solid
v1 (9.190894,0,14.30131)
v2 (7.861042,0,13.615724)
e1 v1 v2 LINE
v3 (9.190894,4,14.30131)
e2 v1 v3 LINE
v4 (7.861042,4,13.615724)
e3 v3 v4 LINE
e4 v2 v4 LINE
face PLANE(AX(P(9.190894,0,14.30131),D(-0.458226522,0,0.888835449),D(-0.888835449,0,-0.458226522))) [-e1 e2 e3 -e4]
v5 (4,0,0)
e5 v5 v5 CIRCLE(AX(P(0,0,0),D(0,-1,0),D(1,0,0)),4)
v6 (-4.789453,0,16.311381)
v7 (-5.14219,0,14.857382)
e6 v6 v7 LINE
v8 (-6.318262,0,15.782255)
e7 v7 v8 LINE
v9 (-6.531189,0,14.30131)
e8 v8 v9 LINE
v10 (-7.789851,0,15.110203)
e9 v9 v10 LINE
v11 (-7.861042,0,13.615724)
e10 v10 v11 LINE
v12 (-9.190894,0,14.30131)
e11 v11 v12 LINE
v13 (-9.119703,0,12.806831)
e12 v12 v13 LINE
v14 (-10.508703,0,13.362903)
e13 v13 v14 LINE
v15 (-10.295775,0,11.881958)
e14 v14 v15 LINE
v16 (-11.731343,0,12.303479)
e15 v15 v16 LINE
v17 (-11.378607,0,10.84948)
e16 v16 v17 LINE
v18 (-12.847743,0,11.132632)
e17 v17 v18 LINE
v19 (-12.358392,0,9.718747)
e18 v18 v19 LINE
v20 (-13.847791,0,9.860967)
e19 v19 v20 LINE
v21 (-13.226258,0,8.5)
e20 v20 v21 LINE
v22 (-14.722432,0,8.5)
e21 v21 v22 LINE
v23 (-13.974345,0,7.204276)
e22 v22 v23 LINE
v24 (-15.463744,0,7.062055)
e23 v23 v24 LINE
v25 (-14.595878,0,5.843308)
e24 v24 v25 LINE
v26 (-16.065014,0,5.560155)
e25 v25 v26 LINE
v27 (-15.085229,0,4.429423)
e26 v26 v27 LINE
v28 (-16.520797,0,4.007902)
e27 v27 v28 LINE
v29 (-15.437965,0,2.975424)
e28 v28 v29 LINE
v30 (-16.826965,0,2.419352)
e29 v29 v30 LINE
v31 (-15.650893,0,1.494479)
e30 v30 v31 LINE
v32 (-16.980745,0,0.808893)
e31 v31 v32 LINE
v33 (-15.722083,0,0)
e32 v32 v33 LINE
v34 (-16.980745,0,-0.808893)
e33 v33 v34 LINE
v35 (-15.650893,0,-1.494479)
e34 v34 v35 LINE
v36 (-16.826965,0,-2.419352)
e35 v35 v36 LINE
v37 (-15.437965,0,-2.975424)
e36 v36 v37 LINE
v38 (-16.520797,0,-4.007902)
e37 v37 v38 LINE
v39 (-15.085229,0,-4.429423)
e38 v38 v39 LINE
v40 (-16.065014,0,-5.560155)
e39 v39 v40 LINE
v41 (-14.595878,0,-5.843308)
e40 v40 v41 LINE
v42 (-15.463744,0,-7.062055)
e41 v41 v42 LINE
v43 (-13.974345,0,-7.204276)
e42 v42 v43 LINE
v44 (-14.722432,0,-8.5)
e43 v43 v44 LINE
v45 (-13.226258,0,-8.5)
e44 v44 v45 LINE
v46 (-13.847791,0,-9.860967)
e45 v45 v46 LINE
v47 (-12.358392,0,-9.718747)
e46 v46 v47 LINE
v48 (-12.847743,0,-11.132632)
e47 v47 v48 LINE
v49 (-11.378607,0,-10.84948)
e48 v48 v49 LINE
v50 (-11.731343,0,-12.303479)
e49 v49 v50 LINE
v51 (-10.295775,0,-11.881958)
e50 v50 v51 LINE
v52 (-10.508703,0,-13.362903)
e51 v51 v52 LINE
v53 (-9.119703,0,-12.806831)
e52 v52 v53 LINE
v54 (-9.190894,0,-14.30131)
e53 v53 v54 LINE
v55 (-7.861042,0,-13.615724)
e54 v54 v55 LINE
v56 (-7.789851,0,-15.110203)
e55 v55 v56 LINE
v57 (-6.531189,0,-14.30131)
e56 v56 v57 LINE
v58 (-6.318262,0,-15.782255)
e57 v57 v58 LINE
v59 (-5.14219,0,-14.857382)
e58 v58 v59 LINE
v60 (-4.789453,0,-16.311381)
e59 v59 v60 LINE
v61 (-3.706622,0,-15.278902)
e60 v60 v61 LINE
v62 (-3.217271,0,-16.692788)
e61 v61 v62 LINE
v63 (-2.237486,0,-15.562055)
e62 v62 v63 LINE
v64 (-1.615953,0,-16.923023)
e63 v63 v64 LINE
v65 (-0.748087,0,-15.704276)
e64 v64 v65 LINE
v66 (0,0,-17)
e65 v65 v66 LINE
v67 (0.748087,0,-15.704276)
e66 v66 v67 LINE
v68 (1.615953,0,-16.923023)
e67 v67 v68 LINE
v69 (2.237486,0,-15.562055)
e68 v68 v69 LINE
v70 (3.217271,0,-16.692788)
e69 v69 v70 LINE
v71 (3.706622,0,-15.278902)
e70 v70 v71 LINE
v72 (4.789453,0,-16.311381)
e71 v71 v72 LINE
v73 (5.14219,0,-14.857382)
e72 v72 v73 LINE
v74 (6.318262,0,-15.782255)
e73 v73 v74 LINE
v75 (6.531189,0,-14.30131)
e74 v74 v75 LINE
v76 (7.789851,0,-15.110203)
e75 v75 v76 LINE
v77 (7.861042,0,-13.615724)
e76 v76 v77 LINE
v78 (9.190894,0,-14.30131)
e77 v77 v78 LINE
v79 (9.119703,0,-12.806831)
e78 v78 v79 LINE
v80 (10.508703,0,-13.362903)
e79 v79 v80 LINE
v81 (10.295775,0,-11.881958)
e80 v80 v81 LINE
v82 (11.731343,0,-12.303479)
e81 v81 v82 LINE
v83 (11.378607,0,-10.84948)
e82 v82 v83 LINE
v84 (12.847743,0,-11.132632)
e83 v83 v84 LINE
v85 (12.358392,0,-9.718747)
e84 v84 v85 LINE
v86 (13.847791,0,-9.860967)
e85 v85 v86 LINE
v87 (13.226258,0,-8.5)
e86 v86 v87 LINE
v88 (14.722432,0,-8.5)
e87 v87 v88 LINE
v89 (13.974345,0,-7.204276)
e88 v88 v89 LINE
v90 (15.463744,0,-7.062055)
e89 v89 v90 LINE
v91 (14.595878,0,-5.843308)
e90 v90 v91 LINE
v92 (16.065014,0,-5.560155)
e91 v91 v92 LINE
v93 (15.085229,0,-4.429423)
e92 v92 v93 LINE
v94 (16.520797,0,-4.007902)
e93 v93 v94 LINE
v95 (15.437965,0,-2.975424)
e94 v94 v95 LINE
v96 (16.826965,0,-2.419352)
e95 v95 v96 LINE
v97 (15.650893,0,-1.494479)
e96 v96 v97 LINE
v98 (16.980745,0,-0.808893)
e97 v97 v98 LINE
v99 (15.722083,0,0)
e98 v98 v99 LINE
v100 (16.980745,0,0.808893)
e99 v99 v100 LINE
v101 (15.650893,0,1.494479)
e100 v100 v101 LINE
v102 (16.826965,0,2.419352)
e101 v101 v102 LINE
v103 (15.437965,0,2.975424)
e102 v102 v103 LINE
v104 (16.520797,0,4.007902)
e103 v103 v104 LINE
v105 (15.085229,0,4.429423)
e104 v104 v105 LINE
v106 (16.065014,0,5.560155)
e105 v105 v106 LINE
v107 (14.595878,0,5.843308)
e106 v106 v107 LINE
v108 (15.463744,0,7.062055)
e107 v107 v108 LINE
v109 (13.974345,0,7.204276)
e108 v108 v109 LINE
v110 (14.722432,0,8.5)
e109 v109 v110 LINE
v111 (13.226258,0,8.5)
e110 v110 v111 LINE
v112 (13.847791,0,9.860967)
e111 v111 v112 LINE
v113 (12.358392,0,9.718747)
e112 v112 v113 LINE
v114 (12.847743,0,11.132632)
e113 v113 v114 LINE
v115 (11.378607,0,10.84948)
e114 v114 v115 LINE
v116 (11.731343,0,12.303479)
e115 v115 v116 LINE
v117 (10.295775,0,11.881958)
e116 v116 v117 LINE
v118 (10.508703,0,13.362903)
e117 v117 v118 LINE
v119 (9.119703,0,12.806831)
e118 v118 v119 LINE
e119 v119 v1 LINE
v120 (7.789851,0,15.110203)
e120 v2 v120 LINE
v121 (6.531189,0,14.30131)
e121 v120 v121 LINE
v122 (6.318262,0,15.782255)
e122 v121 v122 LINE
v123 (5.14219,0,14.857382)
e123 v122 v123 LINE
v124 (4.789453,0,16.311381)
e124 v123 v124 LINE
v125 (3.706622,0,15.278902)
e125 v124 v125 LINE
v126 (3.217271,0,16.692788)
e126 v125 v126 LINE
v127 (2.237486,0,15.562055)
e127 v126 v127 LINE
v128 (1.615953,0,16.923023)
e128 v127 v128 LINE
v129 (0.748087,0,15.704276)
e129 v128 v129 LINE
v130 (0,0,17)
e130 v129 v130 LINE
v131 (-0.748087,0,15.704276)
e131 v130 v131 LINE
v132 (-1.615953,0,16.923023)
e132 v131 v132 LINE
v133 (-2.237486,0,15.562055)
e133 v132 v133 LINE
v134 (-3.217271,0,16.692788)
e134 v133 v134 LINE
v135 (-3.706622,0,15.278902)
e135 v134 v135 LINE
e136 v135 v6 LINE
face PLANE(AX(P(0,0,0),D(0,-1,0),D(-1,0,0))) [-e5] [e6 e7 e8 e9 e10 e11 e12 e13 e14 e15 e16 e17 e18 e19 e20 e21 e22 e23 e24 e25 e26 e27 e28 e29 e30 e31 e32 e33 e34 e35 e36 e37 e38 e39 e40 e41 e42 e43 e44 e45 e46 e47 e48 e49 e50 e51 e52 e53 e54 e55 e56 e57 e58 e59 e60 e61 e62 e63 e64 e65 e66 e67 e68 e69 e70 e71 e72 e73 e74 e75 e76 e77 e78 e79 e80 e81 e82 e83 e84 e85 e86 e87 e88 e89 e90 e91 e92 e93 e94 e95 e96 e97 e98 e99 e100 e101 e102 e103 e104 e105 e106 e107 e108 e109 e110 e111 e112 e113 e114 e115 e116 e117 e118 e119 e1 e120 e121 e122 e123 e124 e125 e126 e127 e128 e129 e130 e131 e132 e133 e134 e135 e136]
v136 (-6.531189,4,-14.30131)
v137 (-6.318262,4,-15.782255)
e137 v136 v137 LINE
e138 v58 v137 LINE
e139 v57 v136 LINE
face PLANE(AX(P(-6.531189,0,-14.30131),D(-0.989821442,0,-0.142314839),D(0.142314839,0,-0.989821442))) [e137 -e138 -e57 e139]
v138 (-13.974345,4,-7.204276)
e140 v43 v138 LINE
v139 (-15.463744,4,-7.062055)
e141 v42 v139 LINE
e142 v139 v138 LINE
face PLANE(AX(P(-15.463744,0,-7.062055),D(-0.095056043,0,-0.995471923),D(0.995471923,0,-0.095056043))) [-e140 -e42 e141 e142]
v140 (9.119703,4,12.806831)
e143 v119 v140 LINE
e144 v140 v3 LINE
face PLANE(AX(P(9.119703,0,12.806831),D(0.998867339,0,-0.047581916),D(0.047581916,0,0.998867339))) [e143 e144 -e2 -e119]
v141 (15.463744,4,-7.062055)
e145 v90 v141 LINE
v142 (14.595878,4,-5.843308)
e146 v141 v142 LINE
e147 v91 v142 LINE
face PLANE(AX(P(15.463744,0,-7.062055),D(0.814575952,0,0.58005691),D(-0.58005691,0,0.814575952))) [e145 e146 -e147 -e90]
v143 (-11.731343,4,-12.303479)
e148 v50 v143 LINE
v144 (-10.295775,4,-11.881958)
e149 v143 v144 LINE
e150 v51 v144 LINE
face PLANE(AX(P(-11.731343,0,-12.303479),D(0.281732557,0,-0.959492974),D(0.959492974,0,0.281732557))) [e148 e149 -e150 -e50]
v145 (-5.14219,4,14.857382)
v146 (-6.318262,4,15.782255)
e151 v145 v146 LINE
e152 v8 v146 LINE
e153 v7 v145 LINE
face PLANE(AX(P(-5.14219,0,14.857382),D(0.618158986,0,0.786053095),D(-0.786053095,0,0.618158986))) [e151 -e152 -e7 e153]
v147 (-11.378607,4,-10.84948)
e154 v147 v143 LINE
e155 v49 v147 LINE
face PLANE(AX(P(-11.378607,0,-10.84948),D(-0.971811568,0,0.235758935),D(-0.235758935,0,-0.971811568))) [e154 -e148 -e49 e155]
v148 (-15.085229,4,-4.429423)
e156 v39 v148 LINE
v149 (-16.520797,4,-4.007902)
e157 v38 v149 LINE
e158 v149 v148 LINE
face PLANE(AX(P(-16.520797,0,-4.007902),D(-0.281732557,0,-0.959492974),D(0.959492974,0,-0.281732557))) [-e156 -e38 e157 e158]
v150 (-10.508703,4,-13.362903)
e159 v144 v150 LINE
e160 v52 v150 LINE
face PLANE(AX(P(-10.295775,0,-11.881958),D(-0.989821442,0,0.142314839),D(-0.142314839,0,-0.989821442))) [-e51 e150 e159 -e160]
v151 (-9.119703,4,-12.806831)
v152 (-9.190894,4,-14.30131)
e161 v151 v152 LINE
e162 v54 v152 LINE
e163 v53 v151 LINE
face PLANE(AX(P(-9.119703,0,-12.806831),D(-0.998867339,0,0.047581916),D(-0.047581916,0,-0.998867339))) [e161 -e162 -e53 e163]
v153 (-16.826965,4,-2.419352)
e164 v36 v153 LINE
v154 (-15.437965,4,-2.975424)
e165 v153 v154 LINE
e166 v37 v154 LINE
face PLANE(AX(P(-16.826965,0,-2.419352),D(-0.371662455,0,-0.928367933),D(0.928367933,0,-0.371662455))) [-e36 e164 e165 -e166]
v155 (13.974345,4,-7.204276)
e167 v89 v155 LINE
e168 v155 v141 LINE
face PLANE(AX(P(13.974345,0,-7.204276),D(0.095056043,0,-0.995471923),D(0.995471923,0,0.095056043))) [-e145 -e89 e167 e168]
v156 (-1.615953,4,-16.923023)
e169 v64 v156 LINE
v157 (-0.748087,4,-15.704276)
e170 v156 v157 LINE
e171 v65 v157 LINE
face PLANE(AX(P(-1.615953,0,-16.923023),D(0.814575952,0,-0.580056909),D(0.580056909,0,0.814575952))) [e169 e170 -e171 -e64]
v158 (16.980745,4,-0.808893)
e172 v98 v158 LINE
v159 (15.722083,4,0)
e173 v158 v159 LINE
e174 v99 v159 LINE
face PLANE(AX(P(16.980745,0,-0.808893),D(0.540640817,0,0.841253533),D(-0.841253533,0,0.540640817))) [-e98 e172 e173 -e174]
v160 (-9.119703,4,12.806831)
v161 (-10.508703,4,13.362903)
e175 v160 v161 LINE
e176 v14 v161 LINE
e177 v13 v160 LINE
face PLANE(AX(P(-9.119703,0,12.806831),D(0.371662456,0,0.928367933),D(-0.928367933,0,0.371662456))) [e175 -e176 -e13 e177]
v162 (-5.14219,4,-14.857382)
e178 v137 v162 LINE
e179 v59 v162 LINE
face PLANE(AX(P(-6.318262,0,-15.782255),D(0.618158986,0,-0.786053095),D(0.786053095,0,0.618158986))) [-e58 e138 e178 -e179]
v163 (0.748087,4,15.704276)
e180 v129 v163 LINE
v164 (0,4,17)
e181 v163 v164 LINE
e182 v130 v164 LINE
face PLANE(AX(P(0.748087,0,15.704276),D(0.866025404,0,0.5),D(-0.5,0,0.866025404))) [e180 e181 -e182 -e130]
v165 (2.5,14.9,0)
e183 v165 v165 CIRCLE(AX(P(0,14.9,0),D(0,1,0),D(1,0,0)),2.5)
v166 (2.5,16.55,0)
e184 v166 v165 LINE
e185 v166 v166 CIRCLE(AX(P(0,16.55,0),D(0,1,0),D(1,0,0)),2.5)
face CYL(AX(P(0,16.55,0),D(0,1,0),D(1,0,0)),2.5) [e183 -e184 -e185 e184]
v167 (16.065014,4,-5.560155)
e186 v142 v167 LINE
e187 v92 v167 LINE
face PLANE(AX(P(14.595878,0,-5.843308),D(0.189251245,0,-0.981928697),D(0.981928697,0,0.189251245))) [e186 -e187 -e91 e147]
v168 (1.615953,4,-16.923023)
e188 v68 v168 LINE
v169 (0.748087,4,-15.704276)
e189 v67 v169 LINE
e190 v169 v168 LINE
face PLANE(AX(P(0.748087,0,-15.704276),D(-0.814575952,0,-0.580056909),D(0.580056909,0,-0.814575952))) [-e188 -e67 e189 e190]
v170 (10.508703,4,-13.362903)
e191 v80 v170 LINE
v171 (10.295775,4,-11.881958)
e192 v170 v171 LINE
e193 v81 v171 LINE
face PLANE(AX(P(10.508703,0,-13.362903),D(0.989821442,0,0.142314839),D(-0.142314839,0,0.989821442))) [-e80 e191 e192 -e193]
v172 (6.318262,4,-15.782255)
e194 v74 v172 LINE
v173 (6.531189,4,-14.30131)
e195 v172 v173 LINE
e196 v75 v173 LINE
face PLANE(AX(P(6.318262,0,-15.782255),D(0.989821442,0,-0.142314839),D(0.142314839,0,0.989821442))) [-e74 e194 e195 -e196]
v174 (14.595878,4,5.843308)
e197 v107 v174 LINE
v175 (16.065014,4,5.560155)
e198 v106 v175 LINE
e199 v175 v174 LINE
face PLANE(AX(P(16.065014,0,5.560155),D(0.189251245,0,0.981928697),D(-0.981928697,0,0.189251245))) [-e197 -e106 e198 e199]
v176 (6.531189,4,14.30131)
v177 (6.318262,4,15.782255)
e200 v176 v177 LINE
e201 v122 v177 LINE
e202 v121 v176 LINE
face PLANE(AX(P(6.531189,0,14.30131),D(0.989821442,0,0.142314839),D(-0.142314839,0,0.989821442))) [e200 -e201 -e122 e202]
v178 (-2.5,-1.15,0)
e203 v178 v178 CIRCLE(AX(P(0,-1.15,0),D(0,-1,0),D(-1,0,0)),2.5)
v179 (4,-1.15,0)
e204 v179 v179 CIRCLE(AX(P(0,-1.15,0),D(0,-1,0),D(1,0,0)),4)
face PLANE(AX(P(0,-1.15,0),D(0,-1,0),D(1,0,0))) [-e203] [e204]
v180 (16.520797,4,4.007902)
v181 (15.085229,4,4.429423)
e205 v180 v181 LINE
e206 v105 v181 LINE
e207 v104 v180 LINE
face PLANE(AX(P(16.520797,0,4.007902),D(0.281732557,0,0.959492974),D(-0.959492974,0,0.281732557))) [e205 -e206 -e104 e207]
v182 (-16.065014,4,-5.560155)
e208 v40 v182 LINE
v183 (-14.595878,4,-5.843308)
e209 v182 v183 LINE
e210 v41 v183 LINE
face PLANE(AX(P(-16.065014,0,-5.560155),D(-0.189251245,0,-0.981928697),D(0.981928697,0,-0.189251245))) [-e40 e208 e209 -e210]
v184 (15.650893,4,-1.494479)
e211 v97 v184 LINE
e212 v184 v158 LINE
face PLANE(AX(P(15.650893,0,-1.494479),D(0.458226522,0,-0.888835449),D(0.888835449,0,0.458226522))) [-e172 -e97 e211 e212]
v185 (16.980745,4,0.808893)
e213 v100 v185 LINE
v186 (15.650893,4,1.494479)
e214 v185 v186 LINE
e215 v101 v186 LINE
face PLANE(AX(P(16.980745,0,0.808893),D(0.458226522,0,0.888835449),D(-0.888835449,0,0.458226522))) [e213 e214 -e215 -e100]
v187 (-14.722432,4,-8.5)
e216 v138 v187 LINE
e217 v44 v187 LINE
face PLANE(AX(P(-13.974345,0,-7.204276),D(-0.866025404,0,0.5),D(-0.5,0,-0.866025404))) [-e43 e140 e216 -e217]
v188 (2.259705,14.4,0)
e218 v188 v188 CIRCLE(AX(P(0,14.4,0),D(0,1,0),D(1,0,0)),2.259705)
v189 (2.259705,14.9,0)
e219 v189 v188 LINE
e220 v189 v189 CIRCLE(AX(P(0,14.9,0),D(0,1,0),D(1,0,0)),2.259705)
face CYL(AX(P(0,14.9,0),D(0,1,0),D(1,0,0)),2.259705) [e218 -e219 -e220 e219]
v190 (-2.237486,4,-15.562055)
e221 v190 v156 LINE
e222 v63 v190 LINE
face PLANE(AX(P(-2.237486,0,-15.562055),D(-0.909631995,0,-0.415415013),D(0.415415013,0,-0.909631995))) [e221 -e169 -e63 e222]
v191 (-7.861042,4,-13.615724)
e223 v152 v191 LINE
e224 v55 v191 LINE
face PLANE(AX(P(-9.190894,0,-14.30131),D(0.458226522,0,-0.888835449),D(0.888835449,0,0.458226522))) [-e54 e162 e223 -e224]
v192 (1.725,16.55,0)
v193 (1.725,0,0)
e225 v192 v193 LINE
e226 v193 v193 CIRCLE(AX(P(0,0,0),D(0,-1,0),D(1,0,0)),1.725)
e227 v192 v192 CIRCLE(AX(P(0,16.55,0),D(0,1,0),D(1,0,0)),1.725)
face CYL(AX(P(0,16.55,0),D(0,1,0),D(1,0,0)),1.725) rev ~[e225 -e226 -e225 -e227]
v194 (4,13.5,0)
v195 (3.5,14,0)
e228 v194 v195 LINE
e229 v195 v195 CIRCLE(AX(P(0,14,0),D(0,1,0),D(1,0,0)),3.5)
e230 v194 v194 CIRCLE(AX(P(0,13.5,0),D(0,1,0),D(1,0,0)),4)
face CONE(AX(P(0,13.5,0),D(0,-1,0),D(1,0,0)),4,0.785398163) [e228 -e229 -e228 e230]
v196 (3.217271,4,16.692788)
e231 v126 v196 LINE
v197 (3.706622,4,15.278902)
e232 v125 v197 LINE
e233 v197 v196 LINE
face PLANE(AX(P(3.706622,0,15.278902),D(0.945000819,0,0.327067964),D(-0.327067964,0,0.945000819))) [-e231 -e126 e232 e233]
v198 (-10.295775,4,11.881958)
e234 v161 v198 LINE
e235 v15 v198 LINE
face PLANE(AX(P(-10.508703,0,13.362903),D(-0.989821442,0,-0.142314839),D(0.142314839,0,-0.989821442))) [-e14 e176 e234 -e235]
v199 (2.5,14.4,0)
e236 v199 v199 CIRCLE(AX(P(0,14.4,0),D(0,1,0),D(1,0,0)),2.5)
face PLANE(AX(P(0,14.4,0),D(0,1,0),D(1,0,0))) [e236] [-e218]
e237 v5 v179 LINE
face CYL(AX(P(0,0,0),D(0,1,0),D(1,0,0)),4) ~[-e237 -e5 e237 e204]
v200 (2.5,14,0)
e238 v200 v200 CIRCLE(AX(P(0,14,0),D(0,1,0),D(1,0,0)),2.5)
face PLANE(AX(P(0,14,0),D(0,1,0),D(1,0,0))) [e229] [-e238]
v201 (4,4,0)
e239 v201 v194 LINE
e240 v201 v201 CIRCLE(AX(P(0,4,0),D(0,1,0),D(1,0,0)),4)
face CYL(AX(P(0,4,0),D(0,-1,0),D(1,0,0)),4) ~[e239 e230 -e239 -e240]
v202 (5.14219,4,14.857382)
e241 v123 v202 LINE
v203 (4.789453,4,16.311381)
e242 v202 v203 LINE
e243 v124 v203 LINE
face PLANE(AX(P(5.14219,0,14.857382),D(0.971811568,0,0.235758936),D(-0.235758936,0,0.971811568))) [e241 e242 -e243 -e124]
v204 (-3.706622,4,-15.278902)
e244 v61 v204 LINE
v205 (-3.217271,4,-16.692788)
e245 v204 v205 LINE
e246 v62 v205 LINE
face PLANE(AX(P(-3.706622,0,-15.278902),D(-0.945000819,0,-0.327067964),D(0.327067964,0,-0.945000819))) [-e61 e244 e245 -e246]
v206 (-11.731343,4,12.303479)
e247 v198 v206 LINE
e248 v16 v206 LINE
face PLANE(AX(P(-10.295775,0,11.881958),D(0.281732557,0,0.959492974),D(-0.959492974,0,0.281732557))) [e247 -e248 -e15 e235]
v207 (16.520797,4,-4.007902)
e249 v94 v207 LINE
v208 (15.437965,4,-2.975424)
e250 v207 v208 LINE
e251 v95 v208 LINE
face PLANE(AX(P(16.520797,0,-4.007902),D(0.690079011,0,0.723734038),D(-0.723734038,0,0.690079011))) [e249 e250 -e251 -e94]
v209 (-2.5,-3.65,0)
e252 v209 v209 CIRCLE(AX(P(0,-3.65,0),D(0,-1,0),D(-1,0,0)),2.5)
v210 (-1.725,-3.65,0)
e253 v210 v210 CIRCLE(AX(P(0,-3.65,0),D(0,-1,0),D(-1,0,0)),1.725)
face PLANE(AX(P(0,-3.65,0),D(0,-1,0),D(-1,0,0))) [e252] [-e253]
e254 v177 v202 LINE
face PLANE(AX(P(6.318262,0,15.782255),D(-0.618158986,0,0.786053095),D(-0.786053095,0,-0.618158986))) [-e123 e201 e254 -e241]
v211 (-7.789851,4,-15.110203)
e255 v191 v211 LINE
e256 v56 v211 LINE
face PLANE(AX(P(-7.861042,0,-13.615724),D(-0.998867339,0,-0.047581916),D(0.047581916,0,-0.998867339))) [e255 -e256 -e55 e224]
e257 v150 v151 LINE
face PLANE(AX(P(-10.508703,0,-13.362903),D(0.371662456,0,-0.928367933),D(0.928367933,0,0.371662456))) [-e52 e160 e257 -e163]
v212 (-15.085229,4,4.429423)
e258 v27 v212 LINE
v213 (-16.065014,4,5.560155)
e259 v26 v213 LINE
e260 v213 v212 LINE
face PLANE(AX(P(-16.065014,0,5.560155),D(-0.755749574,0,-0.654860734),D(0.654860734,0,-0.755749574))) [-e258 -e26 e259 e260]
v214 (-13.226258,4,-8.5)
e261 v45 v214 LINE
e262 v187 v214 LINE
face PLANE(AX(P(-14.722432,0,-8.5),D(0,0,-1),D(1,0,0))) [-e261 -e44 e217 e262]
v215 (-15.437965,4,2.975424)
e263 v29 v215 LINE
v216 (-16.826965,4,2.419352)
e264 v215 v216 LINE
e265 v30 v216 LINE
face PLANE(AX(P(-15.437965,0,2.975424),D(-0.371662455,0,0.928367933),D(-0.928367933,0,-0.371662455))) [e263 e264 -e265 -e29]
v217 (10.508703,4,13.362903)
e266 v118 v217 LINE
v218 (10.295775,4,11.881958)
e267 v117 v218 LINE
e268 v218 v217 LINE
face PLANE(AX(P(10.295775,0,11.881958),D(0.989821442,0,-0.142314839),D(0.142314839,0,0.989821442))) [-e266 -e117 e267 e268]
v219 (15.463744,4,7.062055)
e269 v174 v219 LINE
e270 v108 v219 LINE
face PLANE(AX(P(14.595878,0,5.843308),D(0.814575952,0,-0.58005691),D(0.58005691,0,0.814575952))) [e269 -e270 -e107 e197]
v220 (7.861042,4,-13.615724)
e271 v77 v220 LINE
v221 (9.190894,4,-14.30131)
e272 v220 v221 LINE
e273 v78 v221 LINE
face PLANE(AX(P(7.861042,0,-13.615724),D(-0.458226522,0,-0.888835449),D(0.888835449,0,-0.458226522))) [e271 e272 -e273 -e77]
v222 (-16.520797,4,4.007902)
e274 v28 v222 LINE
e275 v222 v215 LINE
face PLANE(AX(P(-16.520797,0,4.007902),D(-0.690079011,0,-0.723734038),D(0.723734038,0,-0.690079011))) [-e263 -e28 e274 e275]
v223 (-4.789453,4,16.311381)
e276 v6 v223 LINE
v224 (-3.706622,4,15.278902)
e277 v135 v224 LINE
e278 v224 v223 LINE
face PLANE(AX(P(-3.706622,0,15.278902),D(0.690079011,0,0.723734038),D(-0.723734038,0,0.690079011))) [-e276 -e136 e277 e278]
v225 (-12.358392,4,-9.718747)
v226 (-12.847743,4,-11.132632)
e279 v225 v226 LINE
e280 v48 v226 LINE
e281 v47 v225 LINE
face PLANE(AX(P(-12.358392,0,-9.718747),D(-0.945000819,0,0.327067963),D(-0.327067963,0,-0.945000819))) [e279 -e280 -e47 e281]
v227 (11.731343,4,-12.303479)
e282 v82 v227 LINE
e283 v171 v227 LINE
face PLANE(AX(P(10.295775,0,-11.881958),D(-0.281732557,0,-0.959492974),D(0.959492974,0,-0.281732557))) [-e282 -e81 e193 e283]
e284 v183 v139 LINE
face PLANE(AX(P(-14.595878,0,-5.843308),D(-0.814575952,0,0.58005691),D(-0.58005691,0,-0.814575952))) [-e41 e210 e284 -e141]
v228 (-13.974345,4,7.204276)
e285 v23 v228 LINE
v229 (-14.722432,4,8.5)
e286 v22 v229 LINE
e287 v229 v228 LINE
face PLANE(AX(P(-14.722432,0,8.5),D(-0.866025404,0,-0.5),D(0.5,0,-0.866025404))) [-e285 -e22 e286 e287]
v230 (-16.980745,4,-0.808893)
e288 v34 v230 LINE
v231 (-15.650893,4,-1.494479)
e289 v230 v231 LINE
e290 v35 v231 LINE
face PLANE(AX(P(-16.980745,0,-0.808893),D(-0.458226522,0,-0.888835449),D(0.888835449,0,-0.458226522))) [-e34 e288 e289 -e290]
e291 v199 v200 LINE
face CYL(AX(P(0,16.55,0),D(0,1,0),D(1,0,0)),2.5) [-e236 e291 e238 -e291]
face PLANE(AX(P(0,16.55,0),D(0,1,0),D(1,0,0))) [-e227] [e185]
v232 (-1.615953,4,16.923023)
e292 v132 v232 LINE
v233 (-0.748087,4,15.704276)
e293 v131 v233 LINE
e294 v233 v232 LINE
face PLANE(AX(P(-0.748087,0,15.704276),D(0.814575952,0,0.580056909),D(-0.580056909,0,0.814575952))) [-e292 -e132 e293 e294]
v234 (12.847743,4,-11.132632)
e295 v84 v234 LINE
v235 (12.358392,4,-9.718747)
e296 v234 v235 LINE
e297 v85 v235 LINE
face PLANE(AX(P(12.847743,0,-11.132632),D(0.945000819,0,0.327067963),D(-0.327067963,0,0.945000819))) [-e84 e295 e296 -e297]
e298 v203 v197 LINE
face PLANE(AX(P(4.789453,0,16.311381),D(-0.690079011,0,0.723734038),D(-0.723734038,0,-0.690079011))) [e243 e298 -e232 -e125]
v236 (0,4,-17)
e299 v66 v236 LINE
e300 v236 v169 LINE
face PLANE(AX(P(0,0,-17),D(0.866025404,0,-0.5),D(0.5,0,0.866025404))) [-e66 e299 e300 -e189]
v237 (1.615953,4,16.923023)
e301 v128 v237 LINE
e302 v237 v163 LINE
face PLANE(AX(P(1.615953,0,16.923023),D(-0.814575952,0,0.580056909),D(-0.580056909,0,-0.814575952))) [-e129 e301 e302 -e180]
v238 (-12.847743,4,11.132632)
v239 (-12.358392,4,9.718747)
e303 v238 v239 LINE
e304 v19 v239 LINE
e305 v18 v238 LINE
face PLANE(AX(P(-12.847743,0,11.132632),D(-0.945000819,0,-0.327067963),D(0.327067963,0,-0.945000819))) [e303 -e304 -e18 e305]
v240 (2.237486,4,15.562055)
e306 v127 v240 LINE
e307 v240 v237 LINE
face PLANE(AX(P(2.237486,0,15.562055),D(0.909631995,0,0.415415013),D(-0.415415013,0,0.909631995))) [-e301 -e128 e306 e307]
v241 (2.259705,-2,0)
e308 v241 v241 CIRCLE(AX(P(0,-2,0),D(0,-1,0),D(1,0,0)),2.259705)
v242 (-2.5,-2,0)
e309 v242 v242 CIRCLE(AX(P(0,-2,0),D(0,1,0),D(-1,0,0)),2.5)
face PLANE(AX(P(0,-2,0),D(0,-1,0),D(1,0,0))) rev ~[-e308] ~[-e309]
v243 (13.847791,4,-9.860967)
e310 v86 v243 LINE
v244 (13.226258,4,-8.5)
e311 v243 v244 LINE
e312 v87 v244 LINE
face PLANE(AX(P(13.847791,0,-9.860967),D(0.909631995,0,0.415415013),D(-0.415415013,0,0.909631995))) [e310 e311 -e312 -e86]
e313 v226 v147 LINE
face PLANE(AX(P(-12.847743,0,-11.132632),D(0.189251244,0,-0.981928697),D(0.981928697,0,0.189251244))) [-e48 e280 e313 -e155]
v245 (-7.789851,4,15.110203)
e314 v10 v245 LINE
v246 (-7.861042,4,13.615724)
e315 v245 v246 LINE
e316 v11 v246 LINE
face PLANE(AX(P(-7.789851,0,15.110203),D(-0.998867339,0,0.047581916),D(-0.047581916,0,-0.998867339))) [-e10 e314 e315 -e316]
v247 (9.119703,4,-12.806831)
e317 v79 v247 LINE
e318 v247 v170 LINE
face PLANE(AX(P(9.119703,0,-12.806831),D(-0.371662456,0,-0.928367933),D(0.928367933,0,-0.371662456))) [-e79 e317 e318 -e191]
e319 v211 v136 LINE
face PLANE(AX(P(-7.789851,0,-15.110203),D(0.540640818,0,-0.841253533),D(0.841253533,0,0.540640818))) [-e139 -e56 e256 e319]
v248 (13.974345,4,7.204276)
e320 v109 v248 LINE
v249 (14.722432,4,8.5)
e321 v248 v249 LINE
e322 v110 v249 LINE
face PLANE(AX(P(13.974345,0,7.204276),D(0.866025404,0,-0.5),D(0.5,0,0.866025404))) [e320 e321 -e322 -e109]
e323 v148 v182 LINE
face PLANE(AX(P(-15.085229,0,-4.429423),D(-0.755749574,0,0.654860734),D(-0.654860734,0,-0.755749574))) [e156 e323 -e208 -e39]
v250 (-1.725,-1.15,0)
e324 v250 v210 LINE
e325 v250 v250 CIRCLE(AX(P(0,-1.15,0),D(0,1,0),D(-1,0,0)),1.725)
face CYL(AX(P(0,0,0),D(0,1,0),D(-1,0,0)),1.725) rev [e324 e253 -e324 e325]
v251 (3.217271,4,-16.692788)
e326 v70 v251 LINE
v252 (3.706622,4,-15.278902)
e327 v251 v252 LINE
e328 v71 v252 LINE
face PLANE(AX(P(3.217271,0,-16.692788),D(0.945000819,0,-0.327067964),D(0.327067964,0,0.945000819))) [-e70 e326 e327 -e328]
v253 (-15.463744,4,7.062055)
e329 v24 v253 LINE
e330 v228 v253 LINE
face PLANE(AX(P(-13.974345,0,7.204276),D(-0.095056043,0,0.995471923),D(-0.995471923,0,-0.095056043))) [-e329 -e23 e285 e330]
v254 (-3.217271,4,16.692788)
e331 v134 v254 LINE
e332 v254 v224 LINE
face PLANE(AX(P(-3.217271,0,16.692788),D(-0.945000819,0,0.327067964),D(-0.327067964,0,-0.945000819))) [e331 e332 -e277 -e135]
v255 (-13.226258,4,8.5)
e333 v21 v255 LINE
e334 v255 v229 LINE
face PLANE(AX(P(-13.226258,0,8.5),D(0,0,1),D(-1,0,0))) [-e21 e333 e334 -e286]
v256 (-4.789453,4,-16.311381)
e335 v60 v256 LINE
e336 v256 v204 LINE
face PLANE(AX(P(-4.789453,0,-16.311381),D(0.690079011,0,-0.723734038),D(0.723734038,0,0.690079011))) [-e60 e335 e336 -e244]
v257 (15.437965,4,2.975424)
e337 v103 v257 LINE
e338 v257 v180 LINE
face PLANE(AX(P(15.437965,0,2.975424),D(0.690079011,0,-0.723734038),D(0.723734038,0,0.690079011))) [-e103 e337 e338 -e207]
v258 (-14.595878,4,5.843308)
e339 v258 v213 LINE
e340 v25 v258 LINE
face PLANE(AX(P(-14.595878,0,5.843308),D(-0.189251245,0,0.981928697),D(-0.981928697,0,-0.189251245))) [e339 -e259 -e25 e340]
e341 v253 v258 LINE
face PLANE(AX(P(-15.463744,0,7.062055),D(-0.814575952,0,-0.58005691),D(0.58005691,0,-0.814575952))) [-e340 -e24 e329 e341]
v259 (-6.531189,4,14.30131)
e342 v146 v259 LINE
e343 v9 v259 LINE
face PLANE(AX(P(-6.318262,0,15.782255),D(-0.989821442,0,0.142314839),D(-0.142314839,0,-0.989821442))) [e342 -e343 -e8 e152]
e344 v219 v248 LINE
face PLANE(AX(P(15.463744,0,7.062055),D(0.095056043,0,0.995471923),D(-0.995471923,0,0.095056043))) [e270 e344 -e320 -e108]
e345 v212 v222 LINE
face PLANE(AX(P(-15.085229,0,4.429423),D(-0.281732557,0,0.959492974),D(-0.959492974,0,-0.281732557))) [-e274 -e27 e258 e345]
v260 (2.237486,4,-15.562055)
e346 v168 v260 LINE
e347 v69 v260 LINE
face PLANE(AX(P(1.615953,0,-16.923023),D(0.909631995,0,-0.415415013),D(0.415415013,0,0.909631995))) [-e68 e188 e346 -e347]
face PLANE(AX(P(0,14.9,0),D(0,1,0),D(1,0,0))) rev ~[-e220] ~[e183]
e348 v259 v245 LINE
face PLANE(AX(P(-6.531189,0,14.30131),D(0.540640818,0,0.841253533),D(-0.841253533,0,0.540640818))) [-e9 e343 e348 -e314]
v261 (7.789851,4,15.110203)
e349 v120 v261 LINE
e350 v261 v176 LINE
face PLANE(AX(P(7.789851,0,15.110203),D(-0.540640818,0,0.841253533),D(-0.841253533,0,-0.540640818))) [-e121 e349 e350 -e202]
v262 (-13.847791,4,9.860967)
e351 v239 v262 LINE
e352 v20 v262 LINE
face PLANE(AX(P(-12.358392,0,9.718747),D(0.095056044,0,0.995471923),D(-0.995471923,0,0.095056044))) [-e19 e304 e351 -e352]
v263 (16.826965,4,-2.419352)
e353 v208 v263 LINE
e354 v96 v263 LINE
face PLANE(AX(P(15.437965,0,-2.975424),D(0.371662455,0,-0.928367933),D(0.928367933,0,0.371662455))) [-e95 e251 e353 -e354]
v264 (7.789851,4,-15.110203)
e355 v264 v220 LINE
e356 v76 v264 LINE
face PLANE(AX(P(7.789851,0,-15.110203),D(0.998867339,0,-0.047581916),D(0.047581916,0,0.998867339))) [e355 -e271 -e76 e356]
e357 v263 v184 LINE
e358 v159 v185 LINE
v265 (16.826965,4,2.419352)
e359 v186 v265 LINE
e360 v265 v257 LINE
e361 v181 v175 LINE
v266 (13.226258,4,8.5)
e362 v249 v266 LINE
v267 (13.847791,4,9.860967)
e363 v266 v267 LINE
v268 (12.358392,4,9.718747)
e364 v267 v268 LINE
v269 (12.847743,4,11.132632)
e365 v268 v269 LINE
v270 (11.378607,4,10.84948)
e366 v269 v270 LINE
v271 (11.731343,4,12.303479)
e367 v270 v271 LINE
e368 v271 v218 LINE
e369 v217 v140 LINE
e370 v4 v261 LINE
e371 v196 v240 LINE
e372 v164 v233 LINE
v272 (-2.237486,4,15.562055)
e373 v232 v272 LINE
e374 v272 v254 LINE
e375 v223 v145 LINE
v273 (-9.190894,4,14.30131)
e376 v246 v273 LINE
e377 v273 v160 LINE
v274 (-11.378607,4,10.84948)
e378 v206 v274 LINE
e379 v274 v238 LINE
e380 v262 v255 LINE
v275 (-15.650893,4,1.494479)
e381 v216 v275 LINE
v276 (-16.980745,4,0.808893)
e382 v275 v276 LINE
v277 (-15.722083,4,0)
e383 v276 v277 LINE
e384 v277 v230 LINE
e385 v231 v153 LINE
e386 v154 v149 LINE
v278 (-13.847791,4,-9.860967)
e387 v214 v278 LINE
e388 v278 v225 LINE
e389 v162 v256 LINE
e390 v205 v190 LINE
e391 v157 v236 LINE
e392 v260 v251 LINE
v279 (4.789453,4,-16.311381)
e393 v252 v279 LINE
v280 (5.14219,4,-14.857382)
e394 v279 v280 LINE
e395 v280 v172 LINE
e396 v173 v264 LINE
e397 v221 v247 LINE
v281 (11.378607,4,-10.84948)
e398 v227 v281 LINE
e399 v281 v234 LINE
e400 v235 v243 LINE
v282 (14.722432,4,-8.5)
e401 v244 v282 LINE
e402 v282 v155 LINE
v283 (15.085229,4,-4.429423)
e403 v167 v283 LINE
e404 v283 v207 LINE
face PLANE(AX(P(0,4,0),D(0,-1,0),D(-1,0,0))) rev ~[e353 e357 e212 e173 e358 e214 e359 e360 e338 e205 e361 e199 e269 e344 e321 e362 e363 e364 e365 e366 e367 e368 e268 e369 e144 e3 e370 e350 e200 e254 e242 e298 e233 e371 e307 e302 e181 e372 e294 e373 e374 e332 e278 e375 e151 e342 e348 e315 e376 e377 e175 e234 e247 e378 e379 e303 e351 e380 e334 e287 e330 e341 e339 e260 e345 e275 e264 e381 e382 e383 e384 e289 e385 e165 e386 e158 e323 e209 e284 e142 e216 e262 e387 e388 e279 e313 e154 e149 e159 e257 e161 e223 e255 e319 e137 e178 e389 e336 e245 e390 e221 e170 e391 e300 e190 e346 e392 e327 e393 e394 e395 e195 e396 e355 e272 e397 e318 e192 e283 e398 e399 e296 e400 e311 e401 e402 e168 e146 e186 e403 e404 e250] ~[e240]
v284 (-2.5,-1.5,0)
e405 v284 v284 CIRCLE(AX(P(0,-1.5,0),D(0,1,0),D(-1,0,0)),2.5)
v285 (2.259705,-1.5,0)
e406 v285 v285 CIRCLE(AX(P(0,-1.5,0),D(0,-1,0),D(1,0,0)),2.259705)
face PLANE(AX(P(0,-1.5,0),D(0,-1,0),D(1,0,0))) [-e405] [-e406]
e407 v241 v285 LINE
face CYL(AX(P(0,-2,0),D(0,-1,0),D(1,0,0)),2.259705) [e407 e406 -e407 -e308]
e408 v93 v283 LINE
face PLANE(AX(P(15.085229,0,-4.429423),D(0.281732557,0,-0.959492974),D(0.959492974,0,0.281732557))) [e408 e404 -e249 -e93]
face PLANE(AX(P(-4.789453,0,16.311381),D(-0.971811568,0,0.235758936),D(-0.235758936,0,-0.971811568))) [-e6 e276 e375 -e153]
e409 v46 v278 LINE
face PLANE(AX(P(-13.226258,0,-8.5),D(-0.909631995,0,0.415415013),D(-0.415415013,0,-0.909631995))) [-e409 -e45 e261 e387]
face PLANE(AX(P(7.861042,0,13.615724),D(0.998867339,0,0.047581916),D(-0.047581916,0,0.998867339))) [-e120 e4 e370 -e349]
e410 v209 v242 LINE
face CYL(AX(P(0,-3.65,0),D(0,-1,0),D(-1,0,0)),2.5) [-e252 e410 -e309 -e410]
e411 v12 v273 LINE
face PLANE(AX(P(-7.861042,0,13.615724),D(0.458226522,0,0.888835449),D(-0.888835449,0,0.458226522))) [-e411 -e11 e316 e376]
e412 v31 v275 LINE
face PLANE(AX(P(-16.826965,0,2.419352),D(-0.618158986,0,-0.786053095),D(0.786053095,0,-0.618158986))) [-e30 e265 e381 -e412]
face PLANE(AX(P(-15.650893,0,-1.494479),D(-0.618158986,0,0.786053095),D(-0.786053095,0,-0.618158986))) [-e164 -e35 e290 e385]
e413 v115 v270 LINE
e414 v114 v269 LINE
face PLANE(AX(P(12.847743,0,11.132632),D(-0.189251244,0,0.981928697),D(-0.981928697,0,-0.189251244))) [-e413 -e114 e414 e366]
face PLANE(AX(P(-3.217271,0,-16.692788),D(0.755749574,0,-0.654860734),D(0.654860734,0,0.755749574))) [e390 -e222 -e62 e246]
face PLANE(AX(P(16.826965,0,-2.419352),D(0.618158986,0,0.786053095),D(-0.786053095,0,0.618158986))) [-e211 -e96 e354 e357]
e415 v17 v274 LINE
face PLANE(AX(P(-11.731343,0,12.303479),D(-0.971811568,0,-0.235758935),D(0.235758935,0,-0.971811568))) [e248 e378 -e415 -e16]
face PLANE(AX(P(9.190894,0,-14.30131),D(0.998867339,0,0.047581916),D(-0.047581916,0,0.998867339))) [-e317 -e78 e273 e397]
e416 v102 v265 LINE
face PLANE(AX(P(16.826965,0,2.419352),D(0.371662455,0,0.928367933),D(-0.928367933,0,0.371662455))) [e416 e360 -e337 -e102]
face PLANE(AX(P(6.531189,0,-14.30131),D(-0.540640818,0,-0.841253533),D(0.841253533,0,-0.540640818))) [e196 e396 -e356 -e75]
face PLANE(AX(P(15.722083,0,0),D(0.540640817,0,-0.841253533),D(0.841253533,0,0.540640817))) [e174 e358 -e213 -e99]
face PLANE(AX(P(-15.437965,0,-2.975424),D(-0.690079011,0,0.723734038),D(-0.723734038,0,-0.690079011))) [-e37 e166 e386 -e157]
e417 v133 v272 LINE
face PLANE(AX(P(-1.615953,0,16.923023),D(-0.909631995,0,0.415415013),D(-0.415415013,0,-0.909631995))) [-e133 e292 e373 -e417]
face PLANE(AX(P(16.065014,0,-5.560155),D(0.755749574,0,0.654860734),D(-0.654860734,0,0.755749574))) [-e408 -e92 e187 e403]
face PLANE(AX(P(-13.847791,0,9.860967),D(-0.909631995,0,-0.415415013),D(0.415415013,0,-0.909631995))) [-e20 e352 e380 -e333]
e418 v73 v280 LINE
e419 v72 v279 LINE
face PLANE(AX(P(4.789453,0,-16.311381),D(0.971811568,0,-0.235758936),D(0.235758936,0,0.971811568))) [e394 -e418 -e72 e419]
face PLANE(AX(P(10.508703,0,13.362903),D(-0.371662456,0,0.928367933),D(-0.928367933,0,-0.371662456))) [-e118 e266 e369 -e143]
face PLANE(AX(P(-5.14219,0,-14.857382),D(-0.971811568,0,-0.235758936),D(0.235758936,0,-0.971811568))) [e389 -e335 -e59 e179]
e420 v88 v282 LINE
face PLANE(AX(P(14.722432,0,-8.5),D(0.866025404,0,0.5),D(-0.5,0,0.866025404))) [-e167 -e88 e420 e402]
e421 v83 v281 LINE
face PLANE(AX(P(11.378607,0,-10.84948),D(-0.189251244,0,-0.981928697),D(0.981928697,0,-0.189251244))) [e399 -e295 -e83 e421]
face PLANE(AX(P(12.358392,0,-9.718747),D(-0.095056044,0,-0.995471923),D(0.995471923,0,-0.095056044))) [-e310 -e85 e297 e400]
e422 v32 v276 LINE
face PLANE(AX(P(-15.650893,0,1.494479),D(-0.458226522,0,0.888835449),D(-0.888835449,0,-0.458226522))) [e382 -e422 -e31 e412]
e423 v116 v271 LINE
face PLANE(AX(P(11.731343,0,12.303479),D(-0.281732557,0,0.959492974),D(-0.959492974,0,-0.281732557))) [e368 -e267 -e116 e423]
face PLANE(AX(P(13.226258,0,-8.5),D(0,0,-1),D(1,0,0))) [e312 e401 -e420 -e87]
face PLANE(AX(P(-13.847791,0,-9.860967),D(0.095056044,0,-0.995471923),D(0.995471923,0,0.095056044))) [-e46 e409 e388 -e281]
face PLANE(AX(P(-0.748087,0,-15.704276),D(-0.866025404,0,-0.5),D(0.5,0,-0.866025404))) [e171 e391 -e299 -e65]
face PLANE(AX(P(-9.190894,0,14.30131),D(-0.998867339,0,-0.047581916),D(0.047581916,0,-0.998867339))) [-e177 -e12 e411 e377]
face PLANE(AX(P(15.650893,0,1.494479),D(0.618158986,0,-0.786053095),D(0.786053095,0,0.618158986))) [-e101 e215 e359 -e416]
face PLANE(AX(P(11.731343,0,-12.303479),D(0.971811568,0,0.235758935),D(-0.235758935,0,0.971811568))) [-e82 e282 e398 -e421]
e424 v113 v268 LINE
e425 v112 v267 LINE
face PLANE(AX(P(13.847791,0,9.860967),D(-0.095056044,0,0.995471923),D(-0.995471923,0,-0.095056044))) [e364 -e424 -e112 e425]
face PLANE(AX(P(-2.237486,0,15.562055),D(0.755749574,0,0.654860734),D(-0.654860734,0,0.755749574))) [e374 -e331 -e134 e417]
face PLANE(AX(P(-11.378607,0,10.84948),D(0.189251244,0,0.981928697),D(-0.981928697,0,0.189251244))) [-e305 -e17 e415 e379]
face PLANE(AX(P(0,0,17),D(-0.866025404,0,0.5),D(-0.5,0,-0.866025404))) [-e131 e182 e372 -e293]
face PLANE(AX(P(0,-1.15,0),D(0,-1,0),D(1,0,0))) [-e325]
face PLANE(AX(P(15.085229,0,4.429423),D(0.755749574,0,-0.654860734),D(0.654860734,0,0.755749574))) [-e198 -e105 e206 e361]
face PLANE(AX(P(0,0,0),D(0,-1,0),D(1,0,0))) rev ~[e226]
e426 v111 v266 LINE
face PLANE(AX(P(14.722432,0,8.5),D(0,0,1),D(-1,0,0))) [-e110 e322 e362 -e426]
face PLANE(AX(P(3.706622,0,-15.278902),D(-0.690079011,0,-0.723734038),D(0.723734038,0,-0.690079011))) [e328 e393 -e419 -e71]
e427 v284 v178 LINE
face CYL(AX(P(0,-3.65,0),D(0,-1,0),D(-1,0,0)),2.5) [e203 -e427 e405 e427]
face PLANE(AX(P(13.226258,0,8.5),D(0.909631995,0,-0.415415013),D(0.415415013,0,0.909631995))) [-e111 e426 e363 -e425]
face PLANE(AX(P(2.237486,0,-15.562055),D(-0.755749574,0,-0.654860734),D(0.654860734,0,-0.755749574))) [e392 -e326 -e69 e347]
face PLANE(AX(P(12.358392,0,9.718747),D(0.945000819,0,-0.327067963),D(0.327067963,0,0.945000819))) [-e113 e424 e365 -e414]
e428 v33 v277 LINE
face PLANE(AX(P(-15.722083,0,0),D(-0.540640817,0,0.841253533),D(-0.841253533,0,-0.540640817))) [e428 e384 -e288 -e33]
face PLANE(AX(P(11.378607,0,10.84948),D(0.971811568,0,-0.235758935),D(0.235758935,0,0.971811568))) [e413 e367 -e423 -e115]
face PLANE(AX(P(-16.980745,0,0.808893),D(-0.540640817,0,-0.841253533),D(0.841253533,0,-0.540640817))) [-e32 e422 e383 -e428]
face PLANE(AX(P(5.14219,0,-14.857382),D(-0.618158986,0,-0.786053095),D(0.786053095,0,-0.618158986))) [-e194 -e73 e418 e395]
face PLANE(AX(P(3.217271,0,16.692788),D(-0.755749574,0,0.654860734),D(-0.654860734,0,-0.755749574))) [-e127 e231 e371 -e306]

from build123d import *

# Parameters (mm, degrees)
BOSS_EXTRUDE1_DEPTH = 4
SKETCH2_R           = 4
BOSS_EXTRUDE2_DEPTH = 12.55
SKETCH3_R           = 4
SKETCH3_R_2         = 2.5
CUT_EXTRUDE1_DEPTH  = 2.55
CUT_EXTRUDE2_REACH  = 18.55
SKETCH4_R           = 1.725
CUT_EXTRUDE3_START  = -1.65
SKETCH5_R           = 2.5
SKETCH5_R_2         = 2.259704792
CUT_EXTRUDE3_DEPTH  = 0.5
CHAMFER1_SIZE       = 0.5
SKETCH6_R           = 3.064739397
SKETCH6_R_2         = 1.725
BOSS_EXTRUDE3_DEPTH = 3.65
SKETCH7_R           = 3.064739397
SKETCH7_R_2         = 2.5
CUT_EXTRUDE5_DEPTH  = 2.5
CUT_EXTRUDE6_START  = -1.65
SKETCH8_R           = 2.5
SKETCH8_R_2         = 2.259704792
CUT_EXTRUDE6_DEPTH  = 0.5
SKETCH9_R           = 4
BOSS_EXTRUDE4_DEPTH = 1.15


with BuildPart() as part:
    # Sketch1 → Boss-Extrude1 (new body)
    with BuildSketch(Plane(origin=(0, 0, 0), x_dir=(1, 0, 0), z_dir=(0, 1, 0))):
        Polygon((0, 17), (0.748086847, 15.704275572), (1.615952736, 16.923022684), (2.237485751, 15.562055221), (3.217271154, 16.692787853), (3.706621637, 15.278902488), (4.789453466, 16.311380551), (5.142189784, 14.857381647), (6.318261746, 15.782254861), (6.531189464, 14.301310058), (7.789850869, 15.110202627), (7.86104168, 13.61572359), (9.190893897, 14.301310058), (9.119703086, 12.806831021), (10.508702766, 13.362902611), (10.295775048, 11.881957807), (11.731343195, 12.303478648), (11.378606878, 10.849479744), (12.847742764, 11.132632477), (12.358392281, 9.718747111), (13.847791185, 9.860967463), (13.22625817, 8.5), (14.722431864, 8.5), (13.974345017, 7.204275572), (15.463743921, 7.062055221), (14.595878032, 5.84330811), (16.065013918, 5.560155376), (15.085228515, 4.429422744), (16.520796662, 4.007901904), (15.437964832, 2.97542384), (16.826964512, 2.419352251), (15.650892549, 1.494479037), (16.980744766, 0.808892569), (15.72208336, 0), (16.980744766, -0.808892569), (15.650892549, -1.494479037), (16.826964512, -2.419352251), (15.437964832, -2.97542384), (16.520796662, -4.007901904), (15.085228515, -4.429422744), (16.065013918, -5.560155376), (14.595878032, -5.84330811), (15.463743921, -7.062055221), (13.974345017, -7.204275572), (14.722431864, -8.5), (13.22625817, -8.5), (13.847791185, -9.860967463), (12.358392281, -9.718747111), (12.847742764, -11.132632477), (11.378606878, -10.849479744), (11.731343195, -12.303478648), (10.295775048, -11.881957807), (10.508702766, -13.362902611), (9.119703086, -12.806831021), (9.190893897, -14.301310058), (7.86104168, -13.61572359), (7.789850869, -15.110202627), (6.531189464, -14.301310058), (6.318261746, -15.782254861), (5.142189784, -14.857381647), (4.789453466, -16.311380551), (3.706621637, -15.278902488), (3.217271154, -16.692787853), (2.237485751, -15.562055221), (1.615952736, -16.923022684), (0.748086847, -15.704275572), (0, -17), (-0.748086847, -15.704275572), (-1.615952736, -16.923022684), (-2.237485751, -15.562055221), (-3.217271154, -16.692787853), (-3.706621637, -15.278902488), (-4.789453466, -16.311380551), (-5.142189784, -14.857381647), (-6.318261746, -15.782254861), (-6.531189464, -14.301310058), (-7.789850869, -15.110202627), (-7.86104168, -13.61572359), (-9.190893897, -14.301310058), (-9.119703086, -12.806831021), (-10.508702766, -13.362902611), (-10.295775048, -11.881957807), (-11.731343195, -12.303478648), (-11.378606878, -10.849479744), (-12.847742764, -11.132632477), (-12.358392281, -9.718747111), (-13.847791185, -9.860967463), (-13.22625817, -8.5), (-14.722431864, -8.5), (-13.974345017, -7.204275572), (-15.463743921, -7.062055221), (-14.595878032, -5.84330811), (-16.065013918, -5.560155376), (-15.085228515, -4.429422744), (-16.520796662, -4.007901904), (-15.437964832, -2.97542384), (-16.826964512, -2.419352251), (-15.650892549, -1.494479037), (-16.980744766, -0.808892569), (-15.72208336, 0), (-16.980744766, 0.808892569), (-15.650892549, 1.494479037), (-16.826964512, 2.419352251), (-15.437964832, 2.97542384), (-16.520796662, 4.007901904), (-15.085228515, 4.429422744), (-16.065013918, 5.560155376), (-14.595878032, 5.84330811), (-15.463743921, 7.062055221), (-13.974345017, 7.204275572), (-14.722431864, 8.5), (-13.22625817, 8.5), (-13.847791185, 9.860967463), (-12.358392281, 9.718747111), (-12.847742764, 11.132632477), (-11.378606878, 10.849479744), (-11.731343195, 12.303478648), (-10.295775048, 11.881957807), (-10.508702766, 13.362902611), (-9.119703086, 12.806831021), (-9.190893897, 14.301310058), (-7.86104168, 13.61572359), (-7.789850869, 15.110202627), (-6.531189464, 14.301310058), (-6.318261746, 15.782254861), (-5.142189784, 14.857381647), (-4.789453466, 16.311380551), (-3.706621637, 15.278902488), (-3.217271154, 16.692787853), (-2.237485751, 15.562055221), (-1.615952736, 16.923022684), (-0.748086847, 15.704275572), align=None)
    extrude(amount=BOSS_EXTRUDE1_DEPTH)

    # Sketch2 → Boss-Extrude2 (add)
    with BuildSketch(Plane(origin=(0, 4, 0), x_dir=(1, 0, 0), z_dir=(0, 1, 0))):
        Circle(SKETCH2_R)
    extrude(amount=BOSS_EXTRUDE2_DEPTH)

    # Sketch3 → Cut-Extrude1 (cut)
    with BuildSketch(Plane(origin=(0, 16.55, 0), x_dir=(1, 0, 0), z_dir=(0, 1, 0))):
        Circle(SKETCH3_R)
        Circle(SKETCH3_R_2, mode=Mode.SUBTRACT)
    extrude(amount=-CUT_EXTRUDE1_DEPTH, mode=Mode.SUBTRACT)

    # Sketch4 → Cut-Extrude2 (cut, up to next)
    with BuildSketch(Plane(origin=(0, 16.55, 0), x_dir=(1, 0, 0), z_dir=(0, 1, 0)), mode=Mode.PRIVATE) as cut_extrude2_sk1:
        Circle(SKETCH4_R)
    cut_extrude2_tool1 = extrude(cut_extrude2_sk1.sketch, amount=-CUT_EXTRUDE2_REACH, mode=Mode.PRIVATE) & part.part
    add(cut_extrude2_tool1.solids().sort_by_distance((0, 16.55, 0))[0], mode=Mode.SUBTRACT)

    # Sketch5 → Cut-Extrude3 (cut)
    with BuildSketch(Plane(origin=(0, 16.55, 0), x_dir=(1, 0, 0), z_dir=(0, 1, 0)).offset(CUT_EXTRUDE3_START)):
        Circle(SKETCH5_R)
        Circle(SKETCH5_R_2, mode=Mode.SUBTRACT)
    extrude(amount=-CUT_EXTRUDE3_DEPTH, mode=Mode.SUBTRACT)

    # Chamfer1
    chamfer1_edges = [part.edges().sort_by_distance(p)[0] for p in [
        (-4, 14, 0),
    ]]
    chamfer(chamfer1_edges, length=CHAMFER1_SIZE)

    # Sketch6 → Boss-Extrude3 (add)
    with BuildSketch(Plane(origin=(0, 0, 0), x_dir=(-1, 0, 0), z_dir=(0, -1, 0))):
        Circle(SKETCH6_R)
        Circle(SKETCH6_R_2, mode=Mode.SUBTRACT)
    extrude(amount=BOSS_EXTRUDE3_DEPTH)

    # Sketch7 → Cut-Extrude5 (cut)
    with BuildSketch(Plane(origin=(0, -3.65, 0), x_dir=(-1, 0, 0), z_dir=(0, -1, 0))):
        Circle(SKETCH7_R)
        Circle(SKETCH7_R_2, mode=Mode.SUBTRACT)
    extrude(amount=-CUT_EXTRUDE5_DEPTH, mode=Mode.SUBTRACT)

    # Sketch8 → Cut-Extrude6 (cut)
    with BuildSketch(Plane.XZ.offset(3.65).offset(CUT_EXTRUDE6_START)):
        Circle(SKETCH8_R)
        Circle(SKETCH8_R_2, mode=Mode.SUBTRACT)
    extrude(amount=-CUT_EXTRUDE6_DEPTH, mode=Mode.SUBTRACT)

    # Sketch9 → Boss-Extrude4 (add)
    with BuildSketch(Plane.XZ):
        Circle(SKETCH9_R)
    extrude(amount=BOSS_EXTRUDE4_DEPTH)


solid = part.part
